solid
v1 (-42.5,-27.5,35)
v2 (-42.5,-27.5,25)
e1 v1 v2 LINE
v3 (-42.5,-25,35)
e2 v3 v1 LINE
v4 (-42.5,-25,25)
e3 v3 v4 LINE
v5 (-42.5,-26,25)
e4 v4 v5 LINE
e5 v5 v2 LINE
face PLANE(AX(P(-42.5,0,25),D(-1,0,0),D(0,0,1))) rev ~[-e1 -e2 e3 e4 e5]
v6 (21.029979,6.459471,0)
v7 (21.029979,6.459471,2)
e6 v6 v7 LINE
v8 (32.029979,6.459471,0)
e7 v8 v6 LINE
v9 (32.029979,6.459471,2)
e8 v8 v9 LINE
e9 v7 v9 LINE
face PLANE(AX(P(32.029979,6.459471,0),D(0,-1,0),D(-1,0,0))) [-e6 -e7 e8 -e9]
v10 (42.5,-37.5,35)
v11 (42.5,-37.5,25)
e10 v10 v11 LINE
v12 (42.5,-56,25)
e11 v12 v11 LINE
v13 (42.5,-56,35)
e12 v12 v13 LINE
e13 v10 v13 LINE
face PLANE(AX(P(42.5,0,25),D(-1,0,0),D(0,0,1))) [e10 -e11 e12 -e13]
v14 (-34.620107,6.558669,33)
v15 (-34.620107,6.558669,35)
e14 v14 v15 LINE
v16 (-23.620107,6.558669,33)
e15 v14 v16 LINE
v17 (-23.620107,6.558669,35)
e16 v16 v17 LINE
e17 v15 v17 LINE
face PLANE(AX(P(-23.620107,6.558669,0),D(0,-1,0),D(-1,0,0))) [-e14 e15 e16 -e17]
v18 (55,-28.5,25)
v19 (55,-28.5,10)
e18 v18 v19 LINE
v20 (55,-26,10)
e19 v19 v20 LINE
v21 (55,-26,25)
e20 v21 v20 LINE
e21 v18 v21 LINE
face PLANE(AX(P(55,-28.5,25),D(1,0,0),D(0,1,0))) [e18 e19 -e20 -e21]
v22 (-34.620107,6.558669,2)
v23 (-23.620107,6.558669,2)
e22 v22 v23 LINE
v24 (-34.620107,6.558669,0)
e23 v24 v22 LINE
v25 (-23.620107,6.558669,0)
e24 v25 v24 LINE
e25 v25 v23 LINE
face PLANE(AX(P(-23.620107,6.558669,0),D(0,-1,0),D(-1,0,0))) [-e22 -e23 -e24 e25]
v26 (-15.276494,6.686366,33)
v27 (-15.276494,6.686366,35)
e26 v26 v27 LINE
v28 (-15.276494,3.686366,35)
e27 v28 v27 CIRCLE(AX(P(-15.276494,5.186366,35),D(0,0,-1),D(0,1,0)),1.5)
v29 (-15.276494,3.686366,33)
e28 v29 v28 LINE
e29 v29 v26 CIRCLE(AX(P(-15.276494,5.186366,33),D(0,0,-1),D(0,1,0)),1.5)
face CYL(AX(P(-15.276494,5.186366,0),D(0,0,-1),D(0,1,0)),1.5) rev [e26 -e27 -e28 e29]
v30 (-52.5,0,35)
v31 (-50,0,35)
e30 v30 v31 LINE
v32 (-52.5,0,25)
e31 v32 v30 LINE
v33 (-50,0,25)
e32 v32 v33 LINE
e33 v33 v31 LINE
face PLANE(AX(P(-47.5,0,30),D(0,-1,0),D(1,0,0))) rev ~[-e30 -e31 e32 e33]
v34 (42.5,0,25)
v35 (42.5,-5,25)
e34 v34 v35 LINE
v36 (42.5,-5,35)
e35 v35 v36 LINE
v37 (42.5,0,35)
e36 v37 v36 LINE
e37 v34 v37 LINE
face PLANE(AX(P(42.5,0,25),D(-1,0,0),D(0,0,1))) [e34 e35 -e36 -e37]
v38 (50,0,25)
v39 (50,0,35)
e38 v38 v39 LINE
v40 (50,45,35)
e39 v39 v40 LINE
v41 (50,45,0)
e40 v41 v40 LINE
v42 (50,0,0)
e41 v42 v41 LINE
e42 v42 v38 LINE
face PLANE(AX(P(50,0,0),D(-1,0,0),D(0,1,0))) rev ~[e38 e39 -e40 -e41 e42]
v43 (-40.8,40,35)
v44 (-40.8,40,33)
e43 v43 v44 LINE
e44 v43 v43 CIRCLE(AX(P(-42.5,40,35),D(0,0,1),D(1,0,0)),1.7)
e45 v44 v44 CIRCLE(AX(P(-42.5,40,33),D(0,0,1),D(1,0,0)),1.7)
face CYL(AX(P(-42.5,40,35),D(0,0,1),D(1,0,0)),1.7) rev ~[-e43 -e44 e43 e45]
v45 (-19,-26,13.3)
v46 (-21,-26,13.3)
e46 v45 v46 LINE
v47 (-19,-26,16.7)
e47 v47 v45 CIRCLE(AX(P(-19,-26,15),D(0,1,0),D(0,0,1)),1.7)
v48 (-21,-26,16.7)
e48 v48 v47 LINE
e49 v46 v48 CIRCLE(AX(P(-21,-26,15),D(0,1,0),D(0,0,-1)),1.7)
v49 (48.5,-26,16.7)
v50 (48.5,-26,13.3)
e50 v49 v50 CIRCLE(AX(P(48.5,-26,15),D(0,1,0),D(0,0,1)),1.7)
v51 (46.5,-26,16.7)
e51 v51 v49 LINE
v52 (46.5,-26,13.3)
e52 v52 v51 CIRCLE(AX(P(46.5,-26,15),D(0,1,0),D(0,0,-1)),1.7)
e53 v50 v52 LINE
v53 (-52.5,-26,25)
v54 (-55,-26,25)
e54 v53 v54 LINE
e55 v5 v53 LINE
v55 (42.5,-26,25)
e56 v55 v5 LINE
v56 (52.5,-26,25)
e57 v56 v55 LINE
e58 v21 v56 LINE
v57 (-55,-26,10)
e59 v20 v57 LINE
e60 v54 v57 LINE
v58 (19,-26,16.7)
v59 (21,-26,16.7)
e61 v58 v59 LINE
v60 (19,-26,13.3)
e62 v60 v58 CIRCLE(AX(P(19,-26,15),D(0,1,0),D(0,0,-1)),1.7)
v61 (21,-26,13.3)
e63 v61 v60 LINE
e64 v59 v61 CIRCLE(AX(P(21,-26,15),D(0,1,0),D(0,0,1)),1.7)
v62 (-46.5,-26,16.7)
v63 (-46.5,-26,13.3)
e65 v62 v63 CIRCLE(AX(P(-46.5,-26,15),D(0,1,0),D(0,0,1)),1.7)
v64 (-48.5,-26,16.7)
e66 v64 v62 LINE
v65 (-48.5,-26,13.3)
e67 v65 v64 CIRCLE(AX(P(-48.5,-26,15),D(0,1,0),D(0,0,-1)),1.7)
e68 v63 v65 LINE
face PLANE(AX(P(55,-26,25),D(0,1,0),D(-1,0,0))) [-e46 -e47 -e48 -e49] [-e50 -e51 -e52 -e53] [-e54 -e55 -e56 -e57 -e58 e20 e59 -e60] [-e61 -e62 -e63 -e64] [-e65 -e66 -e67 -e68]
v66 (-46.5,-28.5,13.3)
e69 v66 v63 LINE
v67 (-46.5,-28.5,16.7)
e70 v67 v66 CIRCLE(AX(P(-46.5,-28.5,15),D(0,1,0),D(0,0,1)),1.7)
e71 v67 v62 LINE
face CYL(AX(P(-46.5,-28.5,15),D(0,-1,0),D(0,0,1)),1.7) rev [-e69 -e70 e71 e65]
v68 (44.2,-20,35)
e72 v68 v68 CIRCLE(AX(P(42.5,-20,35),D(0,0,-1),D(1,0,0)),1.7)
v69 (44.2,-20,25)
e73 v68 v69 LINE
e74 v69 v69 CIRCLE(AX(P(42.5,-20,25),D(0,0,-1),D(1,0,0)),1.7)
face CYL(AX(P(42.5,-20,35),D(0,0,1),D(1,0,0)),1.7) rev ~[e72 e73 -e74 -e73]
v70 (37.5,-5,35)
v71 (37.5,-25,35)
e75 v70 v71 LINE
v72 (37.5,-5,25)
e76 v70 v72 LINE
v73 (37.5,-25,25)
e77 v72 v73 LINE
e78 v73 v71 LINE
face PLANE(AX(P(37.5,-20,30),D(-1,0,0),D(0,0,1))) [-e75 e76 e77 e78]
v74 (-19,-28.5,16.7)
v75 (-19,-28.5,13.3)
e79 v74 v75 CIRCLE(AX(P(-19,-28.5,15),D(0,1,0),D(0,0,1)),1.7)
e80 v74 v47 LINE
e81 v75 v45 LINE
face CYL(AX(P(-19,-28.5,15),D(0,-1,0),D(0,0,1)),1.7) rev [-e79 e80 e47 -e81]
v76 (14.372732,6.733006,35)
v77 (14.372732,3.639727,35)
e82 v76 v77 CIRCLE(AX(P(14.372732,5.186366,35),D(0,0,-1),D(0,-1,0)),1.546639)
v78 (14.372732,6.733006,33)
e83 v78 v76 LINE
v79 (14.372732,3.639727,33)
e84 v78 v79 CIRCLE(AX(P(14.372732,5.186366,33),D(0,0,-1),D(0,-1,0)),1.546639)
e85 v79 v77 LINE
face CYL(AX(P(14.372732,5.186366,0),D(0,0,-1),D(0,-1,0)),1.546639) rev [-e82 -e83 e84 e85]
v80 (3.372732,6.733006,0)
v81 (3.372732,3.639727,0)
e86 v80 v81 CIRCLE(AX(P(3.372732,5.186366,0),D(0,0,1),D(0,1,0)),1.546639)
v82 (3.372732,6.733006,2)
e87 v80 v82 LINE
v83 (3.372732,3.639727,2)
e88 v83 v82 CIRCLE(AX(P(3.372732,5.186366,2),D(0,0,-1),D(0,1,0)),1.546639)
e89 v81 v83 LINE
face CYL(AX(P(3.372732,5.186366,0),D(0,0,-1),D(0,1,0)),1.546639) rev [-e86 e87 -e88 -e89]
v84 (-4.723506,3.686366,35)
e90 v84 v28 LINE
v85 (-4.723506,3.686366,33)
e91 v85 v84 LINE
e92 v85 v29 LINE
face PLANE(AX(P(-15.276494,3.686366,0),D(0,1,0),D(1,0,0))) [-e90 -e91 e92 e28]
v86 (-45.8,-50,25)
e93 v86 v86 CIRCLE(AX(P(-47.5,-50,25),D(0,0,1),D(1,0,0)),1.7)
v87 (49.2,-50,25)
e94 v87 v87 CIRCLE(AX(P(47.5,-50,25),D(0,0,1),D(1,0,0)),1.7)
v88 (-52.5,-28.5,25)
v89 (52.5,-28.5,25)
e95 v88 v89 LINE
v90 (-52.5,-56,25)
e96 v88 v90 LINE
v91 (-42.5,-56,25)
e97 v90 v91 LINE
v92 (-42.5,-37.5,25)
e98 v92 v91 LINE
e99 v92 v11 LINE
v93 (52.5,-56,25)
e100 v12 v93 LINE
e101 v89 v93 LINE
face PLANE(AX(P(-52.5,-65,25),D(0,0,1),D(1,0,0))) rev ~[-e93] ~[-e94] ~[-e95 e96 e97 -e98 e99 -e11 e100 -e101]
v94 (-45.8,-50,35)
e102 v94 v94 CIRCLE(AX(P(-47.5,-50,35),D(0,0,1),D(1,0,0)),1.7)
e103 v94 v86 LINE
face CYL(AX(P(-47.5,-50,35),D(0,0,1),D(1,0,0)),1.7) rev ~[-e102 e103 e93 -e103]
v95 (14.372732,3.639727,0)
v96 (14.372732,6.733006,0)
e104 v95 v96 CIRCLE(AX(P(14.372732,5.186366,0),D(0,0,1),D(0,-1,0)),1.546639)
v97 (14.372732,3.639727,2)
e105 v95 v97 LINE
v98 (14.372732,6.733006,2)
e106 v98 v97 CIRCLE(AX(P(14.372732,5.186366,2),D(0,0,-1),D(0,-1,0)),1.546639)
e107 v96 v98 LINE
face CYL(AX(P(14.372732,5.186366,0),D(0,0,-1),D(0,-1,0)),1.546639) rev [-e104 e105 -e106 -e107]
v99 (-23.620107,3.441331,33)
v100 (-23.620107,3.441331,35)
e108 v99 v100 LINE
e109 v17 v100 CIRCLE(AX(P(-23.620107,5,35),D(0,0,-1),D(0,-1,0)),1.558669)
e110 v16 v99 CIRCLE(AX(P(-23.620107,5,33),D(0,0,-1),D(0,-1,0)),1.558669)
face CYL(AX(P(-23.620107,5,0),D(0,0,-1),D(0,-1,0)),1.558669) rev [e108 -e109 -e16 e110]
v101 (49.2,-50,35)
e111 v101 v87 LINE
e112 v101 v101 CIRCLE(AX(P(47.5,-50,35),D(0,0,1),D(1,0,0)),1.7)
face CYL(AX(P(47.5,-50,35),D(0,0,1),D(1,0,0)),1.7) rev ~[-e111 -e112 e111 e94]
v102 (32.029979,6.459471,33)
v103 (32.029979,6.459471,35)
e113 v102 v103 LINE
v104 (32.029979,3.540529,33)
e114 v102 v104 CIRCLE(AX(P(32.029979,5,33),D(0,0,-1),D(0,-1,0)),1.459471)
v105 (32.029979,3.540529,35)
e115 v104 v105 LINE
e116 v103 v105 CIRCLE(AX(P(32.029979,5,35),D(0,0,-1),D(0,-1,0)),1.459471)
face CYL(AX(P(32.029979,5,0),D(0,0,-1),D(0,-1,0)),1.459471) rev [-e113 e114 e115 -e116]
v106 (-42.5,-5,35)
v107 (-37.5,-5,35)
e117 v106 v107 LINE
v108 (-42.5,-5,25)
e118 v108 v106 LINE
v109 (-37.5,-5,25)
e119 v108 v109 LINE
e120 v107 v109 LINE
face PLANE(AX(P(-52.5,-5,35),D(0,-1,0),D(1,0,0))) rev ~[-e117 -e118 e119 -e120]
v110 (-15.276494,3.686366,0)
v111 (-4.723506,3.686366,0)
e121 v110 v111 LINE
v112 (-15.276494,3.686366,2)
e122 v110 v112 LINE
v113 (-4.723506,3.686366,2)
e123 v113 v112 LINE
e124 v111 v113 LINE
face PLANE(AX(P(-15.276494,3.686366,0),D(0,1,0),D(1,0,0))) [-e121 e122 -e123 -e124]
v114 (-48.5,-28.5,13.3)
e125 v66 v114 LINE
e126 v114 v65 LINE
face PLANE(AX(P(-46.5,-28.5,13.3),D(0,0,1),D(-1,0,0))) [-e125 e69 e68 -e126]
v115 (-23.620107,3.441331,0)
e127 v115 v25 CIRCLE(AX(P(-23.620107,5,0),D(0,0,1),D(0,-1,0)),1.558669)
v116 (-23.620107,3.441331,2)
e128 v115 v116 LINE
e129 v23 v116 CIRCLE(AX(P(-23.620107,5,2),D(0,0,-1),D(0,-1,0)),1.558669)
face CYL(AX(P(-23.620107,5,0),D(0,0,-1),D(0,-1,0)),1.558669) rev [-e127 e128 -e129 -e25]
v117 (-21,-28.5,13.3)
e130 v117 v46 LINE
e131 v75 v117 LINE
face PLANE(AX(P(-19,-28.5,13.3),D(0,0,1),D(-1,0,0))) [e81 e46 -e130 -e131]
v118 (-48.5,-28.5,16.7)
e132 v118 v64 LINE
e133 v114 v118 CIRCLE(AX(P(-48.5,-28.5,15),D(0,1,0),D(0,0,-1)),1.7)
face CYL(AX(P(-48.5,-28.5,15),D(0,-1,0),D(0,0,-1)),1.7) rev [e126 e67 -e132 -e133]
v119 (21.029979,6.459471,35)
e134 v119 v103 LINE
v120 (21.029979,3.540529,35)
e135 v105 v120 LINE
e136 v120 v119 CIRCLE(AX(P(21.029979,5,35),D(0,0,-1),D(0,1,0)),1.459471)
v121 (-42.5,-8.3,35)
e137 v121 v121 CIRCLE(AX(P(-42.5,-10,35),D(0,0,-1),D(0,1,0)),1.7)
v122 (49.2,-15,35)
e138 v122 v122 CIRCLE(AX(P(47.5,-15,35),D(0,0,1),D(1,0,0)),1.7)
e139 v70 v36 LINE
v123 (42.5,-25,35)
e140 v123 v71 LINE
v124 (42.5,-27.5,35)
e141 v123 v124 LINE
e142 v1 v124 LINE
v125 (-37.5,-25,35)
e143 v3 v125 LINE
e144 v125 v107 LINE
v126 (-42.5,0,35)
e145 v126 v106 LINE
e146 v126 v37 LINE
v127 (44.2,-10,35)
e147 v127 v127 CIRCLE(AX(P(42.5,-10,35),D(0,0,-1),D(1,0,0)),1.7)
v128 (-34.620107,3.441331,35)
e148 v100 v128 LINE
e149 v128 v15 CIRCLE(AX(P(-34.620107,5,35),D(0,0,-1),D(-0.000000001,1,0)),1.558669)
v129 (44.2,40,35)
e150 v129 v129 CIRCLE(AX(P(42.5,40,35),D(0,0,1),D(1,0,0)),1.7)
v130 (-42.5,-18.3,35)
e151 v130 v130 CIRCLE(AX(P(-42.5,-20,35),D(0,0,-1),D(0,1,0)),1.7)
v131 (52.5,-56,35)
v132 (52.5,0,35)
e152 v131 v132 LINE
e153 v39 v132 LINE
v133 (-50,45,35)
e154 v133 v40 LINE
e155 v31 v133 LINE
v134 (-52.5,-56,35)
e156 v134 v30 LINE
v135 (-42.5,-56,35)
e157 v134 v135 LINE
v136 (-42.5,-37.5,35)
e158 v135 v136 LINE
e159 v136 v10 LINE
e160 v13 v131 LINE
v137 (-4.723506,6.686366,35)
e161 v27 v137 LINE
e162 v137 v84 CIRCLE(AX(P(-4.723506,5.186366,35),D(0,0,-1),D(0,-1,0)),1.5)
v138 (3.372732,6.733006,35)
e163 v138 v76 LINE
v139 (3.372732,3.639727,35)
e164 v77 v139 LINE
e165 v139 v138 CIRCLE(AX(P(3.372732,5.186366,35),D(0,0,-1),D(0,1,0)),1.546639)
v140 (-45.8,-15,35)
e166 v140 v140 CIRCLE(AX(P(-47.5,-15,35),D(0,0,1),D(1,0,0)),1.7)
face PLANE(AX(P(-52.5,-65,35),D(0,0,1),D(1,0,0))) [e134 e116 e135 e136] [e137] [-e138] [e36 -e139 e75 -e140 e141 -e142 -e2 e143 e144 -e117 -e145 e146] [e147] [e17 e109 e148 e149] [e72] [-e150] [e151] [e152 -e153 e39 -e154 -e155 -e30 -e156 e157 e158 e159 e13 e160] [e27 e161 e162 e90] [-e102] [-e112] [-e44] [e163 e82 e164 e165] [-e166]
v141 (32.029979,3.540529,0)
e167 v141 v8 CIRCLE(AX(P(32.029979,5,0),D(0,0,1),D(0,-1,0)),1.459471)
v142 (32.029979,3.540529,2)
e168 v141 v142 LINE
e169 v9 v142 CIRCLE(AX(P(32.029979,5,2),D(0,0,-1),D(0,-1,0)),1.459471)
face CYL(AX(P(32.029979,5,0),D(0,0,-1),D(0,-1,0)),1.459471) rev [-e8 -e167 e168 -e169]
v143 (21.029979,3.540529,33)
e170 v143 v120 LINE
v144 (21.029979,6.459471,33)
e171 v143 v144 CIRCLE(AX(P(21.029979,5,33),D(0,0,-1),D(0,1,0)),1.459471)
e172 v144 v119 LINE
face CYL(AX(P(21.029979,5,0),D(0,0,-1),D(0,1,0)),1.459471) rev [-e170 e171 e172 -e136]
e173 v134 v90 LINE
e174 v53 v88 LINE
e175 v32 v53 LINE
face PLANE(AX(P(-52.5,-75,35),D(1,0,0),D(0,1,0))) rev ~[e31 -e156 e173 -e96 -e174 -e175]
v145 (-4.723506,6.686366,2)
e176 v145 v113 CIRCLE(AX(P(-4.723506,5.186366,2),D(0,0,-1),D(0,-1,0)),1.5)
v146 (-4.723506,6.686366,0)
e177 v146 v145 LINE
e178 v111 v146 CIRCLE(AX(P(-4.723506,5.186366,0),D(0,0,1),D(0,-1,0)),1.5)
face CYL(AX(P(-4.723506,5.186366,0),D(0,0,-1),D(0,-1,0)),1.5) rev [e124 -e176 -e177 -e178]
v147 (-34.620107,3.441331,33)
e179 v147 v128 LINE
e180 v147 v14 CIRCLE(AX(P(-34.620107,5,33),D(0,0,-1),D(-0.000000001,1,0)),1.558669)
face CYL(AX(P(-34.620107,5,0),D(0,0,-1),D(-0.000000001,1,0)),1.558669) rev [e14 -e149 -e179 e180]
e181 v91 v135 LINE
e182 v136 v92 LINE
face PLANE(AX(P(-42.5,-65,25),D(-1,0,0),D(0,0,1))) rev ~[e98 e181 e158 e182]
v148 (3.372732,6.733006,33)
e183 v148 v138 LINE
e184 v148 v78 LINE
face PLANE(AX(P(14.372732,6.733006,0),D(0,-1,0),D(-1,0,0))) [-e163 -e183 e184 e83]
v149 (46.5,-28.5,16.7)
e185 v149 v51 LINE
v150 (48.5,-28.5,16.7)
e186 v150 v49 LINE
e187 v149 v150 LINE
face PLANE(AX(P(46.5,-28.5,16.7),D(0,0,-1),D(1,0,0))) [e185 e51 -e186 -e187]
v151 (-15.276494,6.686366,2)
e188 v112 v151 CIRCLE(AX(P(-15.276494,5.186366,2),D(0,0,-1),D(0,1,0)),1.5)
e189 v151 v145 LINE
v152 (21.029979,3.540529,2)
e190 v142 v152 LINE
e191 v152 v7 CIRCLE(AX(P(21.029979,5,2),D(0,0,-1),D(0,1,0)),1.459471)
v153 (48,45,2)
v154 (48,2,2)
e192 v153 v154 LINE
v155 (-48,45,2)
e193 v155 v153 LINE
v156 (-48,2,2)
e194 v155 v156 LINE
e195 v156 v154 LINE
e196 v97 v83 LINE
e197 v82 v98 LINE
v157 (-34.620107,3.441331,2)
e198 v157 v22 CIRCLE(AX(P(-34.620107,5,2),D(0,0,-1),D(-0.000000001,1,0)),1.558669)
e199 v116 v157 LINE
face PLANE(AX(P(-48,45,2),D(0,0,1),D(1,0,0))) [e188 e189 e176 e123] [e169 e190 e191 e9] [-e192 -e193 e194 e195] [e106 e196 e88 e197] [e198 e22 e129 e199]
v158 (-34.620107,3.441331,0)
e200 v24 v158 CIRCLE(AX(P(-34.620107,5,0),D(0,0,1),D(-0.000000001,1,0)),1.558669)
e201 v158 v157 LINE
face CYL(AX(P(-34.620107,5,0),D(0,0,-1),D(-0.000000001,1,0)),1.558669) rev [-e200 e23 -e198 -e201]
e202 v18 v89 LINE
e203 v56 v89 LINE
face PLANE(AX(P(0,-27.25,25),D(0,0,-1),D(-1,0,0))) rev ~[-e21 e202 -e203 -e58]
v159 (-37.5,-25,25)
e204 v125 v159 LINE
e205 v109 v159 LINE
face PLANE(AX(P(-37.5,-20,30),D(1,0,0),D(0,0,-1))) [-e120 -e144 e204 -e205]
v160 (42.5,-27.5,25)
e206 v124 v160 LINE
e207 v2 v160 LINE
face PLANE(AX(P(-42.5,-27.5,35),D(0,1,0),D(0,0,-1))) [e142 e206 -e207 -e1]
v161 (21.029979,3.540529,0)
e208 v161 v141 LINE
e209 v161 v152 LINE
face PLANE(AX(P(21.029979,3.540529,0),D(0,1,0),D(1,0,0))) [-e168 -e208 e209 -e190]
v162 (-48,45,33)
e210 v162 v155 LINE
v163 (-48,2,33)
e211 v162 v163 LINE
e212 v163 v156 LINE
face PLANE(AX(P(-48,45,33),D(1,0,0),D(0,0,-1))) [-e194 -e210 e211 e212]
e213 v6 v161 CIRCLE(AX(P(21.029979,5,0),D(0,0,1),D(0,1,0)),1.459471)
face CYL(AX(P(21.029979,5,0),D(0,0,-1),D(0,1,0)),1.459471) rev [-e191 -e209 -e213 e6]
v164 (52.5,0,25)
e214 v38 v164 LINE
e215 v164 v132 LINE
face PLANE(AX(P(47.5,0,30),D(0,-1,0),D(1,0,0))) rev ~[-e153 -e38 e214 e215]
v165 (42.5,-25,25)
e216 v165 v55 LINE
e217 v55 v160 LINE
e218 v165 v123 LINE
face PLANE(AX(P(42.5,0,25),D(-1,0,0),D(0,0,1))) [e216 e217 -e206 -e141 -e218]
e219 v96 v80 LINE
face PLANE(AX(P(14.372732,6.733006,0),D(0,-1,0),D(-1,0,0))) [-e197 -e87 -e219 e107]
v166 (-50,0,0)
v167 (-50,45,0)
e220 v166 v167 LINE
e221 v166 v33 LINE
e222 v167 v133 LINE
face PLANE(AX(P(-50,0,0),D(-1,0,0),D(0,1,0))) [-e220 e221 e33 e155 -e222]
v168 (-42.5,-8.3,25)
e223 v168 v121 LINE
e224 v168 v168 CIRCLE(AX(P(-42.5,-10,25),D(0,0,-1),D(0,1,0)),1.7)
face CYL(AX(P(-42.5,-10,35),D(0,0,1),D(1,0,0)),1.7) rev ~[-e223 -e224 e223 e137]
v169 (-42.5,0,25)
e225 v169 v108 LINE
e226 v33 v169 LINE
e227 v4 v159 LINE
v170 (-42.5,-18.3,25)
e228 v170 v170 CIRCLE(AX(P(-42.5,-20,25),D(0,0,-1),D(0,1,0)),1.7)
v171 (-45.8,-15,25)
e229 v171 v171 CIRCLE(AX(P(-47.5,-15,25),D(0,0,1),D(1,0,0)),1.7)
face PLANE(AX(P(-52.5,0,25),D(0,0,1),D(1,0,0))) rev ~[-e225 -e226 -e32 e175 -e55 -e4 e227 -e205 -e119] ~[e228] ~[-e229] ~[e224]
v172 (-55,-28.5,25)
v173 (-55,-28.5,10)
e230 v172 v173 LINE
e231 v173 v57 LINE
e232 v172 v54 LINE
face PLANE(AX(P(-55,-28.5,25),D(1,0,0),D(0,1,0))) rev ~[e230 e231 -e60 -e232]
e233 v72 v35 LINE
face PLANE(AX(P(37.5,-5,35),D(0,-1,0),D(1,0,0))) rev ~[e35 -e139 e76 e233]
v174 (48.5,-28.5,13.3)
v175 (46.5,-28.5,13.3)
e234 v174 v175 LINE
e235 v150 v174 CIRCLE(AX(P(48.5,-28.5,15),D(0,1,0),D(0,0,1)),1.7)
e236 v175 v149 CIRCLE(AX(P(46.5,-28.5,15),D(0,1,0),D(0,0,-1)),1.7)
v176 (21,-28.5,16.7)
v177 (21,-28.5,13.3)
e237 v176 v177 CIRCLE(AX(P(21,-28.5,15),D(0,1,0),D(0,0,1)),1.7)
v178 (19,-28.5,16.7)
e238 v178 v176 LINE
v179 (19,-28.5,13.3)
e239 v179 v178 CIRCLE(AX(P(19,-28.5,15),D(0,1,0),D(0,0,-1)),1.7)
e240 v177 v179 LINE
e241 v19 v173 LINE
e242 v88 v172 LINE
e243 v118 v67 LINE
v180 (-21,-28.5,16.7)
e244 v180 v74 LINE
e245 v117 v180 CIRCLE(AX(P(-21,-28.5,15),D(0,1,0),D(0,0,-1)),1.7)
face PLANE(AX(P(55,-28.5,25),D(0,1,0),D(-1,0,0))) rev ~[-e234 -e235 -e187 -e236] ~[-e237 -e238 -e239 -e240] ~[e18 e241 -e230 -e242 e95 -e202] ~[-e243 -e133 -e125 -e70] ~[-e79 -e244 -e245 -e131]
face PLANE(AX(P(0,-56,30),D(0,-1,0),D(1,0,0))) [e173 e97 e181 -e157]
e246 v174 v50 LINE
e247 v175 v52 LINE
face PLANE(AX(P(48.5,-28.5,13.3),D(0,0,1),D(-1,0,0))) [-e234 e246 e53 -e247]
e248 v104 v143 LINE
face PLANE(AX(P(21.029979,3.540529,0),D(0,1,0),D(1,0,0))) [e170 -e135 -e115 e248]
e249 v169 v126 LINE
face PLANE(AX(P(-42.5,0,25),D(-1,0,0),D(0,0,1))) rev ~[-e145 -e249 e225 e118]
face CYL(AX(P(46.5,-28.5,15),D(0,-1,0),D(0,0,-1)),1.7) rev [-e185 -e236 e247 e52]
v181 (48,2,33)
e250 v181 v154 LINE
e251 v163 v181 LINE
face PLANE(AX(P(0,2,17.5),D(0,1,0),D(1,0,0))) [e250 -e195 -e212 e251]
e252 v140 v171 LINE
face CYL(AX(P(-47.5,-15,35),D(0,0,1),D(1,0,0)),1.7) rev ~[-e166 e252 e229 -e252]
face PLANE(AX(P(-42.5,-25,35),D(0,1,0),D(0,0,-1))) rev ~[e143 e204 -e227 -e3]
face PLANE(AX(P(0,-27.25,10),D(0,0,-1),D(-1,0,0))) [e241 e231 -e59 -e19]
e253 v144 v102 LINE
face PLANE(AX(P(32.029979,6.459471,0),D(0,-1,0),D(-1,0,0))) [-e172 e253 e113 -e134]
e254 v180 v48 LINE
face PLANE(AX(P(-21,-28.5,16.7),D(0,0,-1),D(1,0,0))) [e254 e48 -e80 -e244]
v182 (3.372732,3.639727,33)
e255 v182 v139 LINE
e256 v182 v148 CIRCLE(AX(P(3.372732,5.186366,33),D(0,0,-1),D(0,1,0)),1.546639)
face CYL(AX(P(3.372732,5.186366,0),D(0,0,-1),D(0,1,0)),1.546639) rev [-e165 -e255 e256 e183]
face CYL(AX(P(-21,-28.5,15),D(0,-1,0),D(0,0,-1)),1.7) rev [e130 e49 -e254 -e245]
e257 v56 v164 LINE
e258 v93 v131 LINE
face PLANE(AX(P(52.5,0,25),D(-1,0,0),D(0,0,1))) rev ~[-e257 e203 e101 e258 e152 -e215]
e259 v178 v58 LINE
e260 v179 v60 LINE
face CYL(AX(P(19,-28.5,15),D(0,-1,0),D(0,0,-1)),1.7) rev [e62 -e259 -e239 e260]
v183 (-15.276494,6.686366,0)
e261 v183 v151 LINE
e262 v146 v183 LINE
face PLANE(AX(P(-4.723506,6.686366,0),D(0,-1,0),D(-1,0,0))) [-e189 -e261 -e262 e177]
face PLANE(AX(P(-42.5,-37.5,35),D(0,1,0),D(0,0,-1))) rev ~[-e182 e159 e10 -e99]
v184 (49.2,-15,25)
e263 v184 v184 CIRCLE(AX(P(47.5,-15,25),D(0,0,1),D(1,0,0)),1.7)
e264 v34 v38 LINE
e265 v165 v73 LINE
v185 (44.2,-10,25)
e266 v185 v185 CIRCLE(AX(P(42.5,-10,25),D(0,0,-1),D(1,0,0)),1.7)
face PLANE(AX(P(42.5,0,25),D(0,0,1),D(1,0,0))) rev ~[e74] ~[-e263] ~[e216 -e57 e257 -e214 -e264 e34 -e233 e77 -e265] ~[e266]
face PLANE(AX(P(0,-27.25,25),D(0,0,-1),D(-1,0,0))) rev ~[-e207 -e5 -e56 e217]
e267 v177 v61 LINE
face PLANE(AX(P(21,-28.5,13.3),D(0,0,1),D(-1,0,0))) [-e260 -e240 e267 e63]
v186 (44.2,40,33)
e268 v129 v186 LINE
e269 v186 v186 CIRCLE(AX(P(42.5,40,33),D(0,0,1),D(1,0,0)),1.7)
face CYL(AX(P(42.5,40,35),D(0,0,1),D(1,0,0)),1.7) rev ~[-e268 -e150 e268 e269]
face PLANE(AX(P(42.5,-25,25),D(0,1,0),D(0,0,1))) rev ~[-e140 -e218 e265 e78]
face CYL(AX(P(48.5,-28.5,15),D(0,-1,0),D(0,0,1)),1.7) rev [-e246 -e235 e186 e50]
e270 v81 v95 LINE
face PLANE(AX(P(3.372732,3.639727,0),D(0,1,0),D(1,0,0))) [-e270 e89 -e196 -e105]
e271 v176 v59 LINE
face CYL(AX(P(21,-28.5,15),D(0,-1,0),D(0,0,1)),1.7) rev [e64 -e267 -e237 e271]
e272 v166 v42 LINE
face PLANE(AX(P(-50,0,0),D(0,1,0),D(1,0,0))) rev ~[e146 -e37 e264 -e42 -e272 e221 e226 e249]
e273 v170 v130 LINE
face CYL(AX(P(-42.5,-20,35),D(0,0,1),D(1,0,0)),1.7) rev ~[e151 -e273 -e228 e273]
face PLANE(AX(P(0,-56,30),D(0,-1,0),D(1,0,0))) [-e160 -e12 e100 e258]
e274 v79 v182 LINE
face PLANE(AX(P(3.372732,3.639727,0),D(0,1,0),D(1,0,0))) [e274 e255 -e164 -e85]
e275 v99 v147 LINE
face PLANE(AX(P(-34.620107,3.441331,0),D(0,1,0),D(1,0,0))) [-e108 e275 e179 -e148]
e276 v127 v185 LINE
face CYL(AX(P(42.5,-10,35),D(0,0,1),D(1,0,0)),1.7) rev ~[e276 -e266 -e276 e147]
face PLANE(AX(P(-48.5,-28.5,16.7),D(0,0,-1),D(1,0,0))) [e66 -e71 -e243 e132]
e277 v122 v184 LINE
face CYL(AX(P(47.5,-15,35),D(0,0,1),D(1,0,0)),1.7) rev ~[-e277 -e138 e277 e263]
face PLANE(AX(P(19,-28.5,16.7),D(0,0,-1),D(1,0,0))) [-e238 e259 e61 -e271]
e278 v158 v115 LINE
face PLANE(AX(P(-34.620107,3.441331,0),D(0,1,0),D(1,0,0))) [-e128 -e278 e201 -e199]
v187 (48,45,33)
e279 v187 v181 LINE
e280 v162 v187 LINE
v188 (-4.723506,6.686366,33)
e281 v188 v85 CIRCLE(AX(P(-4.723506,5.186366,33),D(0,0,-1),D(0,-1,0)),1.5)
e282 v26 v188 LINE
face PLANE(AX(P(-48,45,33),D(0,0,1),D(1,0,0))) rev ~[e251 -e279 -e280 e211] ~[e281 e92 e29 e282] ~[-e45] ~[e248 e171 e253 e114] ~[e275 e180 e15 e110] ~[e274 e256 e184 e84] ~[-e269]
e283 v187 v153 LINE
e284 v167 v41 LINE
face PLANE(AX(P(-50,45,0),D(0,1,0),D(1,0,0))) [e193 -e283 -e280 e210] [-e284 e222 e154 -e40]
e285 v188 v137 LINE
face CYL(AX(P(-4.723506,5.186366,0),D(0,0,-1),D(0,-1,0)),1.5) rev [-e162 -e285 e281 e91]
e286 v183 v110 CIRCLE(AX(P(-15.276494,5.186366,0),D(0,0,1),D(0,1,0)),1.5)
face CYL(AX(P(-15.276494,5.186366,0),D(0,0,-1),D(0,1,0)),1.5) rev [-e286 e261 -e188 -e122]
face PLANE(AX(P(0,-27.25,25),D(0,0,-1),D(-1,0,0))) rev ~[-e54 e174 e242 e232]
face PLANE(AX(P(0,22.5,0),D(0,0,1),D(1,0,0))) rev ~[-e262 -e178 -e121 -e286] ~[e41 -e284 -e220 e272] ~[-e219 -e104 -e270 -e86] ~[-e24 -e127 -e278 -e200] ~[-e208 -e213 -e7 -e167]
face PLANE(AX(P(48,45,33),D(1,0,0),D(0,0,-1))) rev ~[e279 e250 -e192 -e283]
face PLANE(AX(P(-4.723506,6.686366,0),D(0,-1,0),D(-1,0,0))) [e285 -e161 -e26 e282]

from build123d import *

# Parameters (mm, degrees)
V3_BOX_FOOTPRINT_100_X_45_MM_W                 = 100
V3_BOX_FOOTPRINT_100_X_45_MM_H                 = 45
V3_BOX_HEIGHT_35_MM_DEPTH                      = 35
V3_REAR_OPENING_96_X_31_MM_W                   = 96
V3_REAR_OPENING_96_X_31_MM_H                   = 31
V3_CAVITY_ALL_WALLS_2_MM_DEPTH                 = 43
V3_SQUARE_BEAMS_10_X_10_PITCH_95_MM_W          = 10
V3_SQUARE_BEAMS_10_X_10_PITCH_95_MM_H          = 10
V3_FORWARD_BEAM_LENGTH_65_MM_DEPTH             = 65
V3_LEFT_PCB_EAR_PROFILE_W                      = 10
V3_LEFT_PCB_EAR_PROFILE_H                      = 10
V3_LEFT_INWARD_EAR_5_MM_DEPTH                  = 5
V3_RIGHT_PCB_EAR_PROFILE_W                     = 10
V3_RIGHT_PCB_EAR_PROFILE_H                     = 10
V3_RIGHT_INWARD_EAR_5_MM_DEPTH                 = 5
V3_PCB_ROOF_PAIR_PITCH_85_MM_R                 = 1.7
V3_M3_ROOF_HOLES_DIAMETER_3_4_MM_DEPTH         = 2
V3_PCB_FORWARD_PAIR_ROW_SPACING_60_MM_R        = 1.7
V3_M3_PCB_EAR_HOLES_DEPTH                      = 10
V3_CHASSIS_TOP_HOLES_WIDTH_95_DEPTH_40_M_R     = 1.7
V3_M3_BEAM_TOP_BOTTOM_HOLES_DEPTH              = 10
V3_HANGING_PLATE_OFFSET_26_THICKNESS_2_5_W     = 110
V3_HANGING_PLATE_OFFSET_26_THICKNESS_2_5_H     = 2.5
V3_MOUNTING_PLATE_DOWNWARD_15_MM_WIDTH_1_DEPTH = 15
FOUR_HORIZONTAL_SLOTS_3_4_X_5_4_MM_DEPTH       = 2.5
CUT_EXTRUDE_1_DEPTH                            = 93.059763198
H_CROSSMEMBER_10_X_10_MM_AT_BEAM_MIDPOIN_W     = 10
H_CROSSMEMBER_10_X_10_MM_AT_BEAM_MIDPOIN_H     = 10
H_CROSSMEMBER_85_MM_DEPTH                      = 85
LONGITUDINAL_START                             = -2
BEAM_CAVITIES_6_MM_WIDE_PRESERVING_SCREW_W     = 6
BEAM_CAVITIES_6_MM_WIDE_PRESERVING_SCREW_H     = 6
BEAM_CAVITIES_6_MM_WIDE_PRESERVING_SCREW_H_2   = 27
BEAM_CAVITIES_6_MM_WIDE_PRESERVING_SCREW_H_3   = 9
LONGITUDINAL_BEAM_WALLS_2_MM_INNER_HEI_DEPTH   = 6
H_START                                        = -2
H_CROSSMEMBER_CAVITY_CONNECTS_BOTH_BEAM_W      = 89
H_CROSSMEMBER_CAVITY_CONNECTS_BOTH_BEAM_H      = 6
H_CROSSMEMBER_WALLS_2_MM_DEPTH                 = 6
CUT_EXTRUDE_4_DEPTH                            = 93.059763198
V6_EXTEND_10_X_10_HOLLOW_BEAMS_WITH_2_MM_W     = 10
V6_EXTEND_10_X_10_HOLLOW_BEAMS_WITH_2_MM_H     = 10
V6_EXTEND_10_X_10_HOLLOW_BEAMS_WITH_2_MM_W_2   = 6
V6_EXTEND_10_X_10_HOLLOW_BEAMS_WITH_2_MM_H_2   = 6
V6_HOLLOW_BEAM_EXTENSIONS_15_MM_DEPTH          = 15
V6_FOUR_FULL_DEPTH_PCB_PADS_CENTERS_X42_W      = 15
V6_FOUR_FULL_DEPTH_PCB_PADS_CENTERS_X42_H      = 10
V6_SOLID_SCREW_PADS_WITH_5_MM_INWARD_EAR_DEPTH = 10
V6_PCB_HOLES_85_X_60_MM_AND_RETAINED_CHA_R     = 1.7
V6_FOUR_PCB_M3_HOLES_THROUGH_REINFORCED_DEPTH  = 10
V7_RETAIN_RAIL_ENVELOPES_10_X_10_LENGTH_W      = 10
V7_RETAIN_RAIL_ENVELOPES_10_X_10_LENGTH_H      = 80
V7_SOLID_LONGITUDINAL_BEAMS_DEPTH              = 10
V7_RETAIN_H_CROSSMEMBER_ENVELOPE_W             = 85
V7_RETAIN_H_CROSSMEMBER_ENVELOPE_H             = 10
V7_SOLID_H_CROSSMEMBER_DEPTH                   = 10
V7_PRESERVE_ALL_TEN_EXISTING_BEAM_M3_BOR_R     = 1.7
V7_RESTORE_CHASSIS_AND_PCB_CLEARANCE_BOR_DEPTH = 10
V7_REFILL_OLD_MOUNTING_SLOTS_WITHIN_UNCH_W     = 110
V7_REFILL_OLD_MOUNTING_SLOTS_WITHIN_UNCH_H     = 15
V7_CLOSE_PREVIOUS_SLOT_POSITIONS_DEPTH         = 2.5
V7_FOUR_HORIZONTAL_SLOTS_3_4_X_5_4_MM_AT_DEPTH = 2.5
V8_REFILL_OLD_CHASSIS_BORE_ROW_Y_55_BEFO_W     = 4
V8_REFILL_OLD_CHASSIS_BORE_ROW_Y_55_BEFO_H     = 4
V8_CLOSE_CHASSIS_HOLES_THAT_WOULD_BREAK_DEPTH  = 10
V8_SHORTEN_BOTH_FREE_ENDS_BY_24_MM_W           = 110
V8_SHORTEN_BOTH_FREE_ENDS_BY_24_MM_H           = 10
V8_SOLID_BEAMS_LENGTH_56_MM_PRESERVE_PLA_DEPTH = 24
V8_CHASSIS_PAIR_Y_50_WITH_6_MM_END_DISTA_R     = 1.7
V8_CHASSIS_M3_HOLES_MOVED_5_MM_TOWARD_BA_DEPTH = 10


with BuildPart() as part:
    # V3 box footprint 100 x 45 mm → V3 box height 35 mm (new body)
    with BuildSketch(Plane.XY):
        with Locations((0, 22.5)):
            Rectangle(V3_BOX_FOOTPRINT_100_X_45_MM_W, V3_BOX_FOOTPRINT_100_X_45_MM_H)
    extrude(amount=V3_BOX_HEIGHT_35_MM_DEPTH)

    # V3 rear opening 96 x 31 mm → V3 cavity all walls 2 mm (cut)
    with BuildSketch(Plane(origin=(0, 45, 0), x_dir=(1, 0, 0), z_dir=(0, 1, 0))):
        with Locations((0, -17.5)):
            Rectangle(V3_REAR_OPENING_96_X_31_MM_W, V3_REAR_OPENING_96_X_31_MM_H)
    extrude(amount=-V3_CAVITY_ALL_WALLS_2_MM_DEPTH, mode=Mode.SUBTRACT)

    # V3 square beams 10 x 10 pitch 95 mm → V3 forward beam length 65 mm (add)
    with BuildSketch(Plane.XZ):
        with Locations((-47.5, 30)):
            Rectangle(V3_SQUARE_BEAMS_10_X_10_PITCH_95_MM_W, V3_SQUARE_BEAMS_10_X_10_PITCH_95_MM_H)
        with Locations((47.5, 30)):
            Rectangle(V3_SQUARE_BEAMS_10_X_10_PITCH_95_MM_W, V3_SQUARE_BEAMS_10_X_10_PITCH_95_MM_H)
    extrude(amount=V3_FORWARD_BEAM_LENGTH_65_MM_DEPTH)

    # V3 left PCB ear profile → V3 left inward ear 5 mm (add)
    with BuildSketch(Plane(origin=(-42.5, 0, 0), x_dir=(0, 0, -1), z_dir=(1, 0, 0))):
        with Locations((-30, -20)):
            Rectangle(V3_LEFT_PCB_EAR_PROFILE_W, V3_LEFT_PCB_EAR_PROFILE_H)
    extrude(amount=V3_LEFT_INWARD_EAR_5_MM_DEPTH)

    # V3 right PCB ear profile → V3 right inward ear 5 mm (add)
    with BuildSketch(Plane.ZY.offset(-42.5)):
        with Locations((30, -20)):
            Rectangle(V3_RIGHT_PCB_EAR_PROFILE_W, V3_RIGHT_PCB_EAR_PROFILE_H)
    extrude(amount=V3_RIGHT_INWARD_EAR_5_MM_DEPTH)

    # V3 PCB roof pair pitch 85 mm → V3 M3 roof holes diameter 3.4 mm (cut)
    with BuildSketch(Plane.XY.offset(35)):
        with Locations((-42.5, 40)):
            Circle(V3_PCB_ROOF_PAIR_PITCH_85_MM_R)
        with Locations((42.5, 40)):
            Circle(V3_PCB_ROOF_PAIR_PITCH_85_MM_R)
    extrude(amount=-V3_M3_ROOF_HOLES_DIAMETER_3_4_MM_DEPTH, mode=Mode.SUBTRACT)

    # V3 PCB forward pair row spacing 60 mm → V3 M3 PCB ear holes (cut)
    with BuildSketch(Plane.XY.offset(35)):
        with Locations((-42.5, -20)):
            Circle(V3_PCB_FORWARD_PAIR_ROW_SPACING_60_MM_R)
        with Locations((42.5, -20)):
            Circle(V3_PCB_FORWARD_PAIR_ROW_SPACING_60_MM_R)
    extrude(amount=-V3_M3_PCB_EAR_HOLES_DEPTH, mode=Mode.SUBTRACT)

    # V3 chassis top holes width 95 depth 40 mm → V3 M3 beam top bottom holes (cut)
    with BuildSketch(Plane.XY.offset(35)):
        with Locations((-47.5, -55)):
            Circle(V3_CHASSIS_TOP_HOLES_WIDTH_95_DEPTH_40_M_R)
        with Locations((-47.5, -15)):
            Circle(V3_CHASSIS_TOP_HOLES_WIDTH_95_DEPTH_40_M_R)
        with Locations((47.5, -55)):
            Circle(V3_CHASSIS_TOP_HOLES_WIDTH_95_DEPTH_40_M_R)
        with Locations((47.5, -15)):
            Circle(V3_CHASSIS_TOP_HOLES_WIDTH_95_DEPTH_40_M_R)
    extrude(amount=-V3_M3_BEAM_TOP_BOTTOM_HOLES_DEPTH, mode=Mode.SUBTRACT)

    # V3 hanging plate offset 26 thickness 2.5 mm → V3 mounting plate downward 15 mm width 110 (add)
    with BuildSketch(Plane(origin=(0, 0, 25), x_dir=(-1, 0, 0), z_dir=(0, 0, -1))):
        with Locations((0, -27.25)):
            Rectangle(V3_HANGING_PLATE_OFFSET_26_THICKNESS_2_5_W, V3_HANGING_PLATE_OFFSET_26_THICKNESS_2_5_H)
    extrude(amount=V3_MOUNTING_PLATE_DOWNWARD_15_MM_WIDTH_1_DEPTH)

    # V3 slots 6 mm below beam underside centers 20 and 47.5 → Four horizontal slots 3.4 x 5.4 mm (cut)
    with BuildSketch(Plane.XZ.offset(28.5)):
        with BuildLine():
            Line((-48.5, 20.7), (-46.5, 20.7))
            ThreePointArc((-46.5, 20.7), (-44.8, 19), (-46.5, 17.3))
            Line((-46.5, 17.3), (-48.5, 17.3))
            ThreePointArc((-48.5, 17.3), (-50.2, 19), (-48.5, 20.7))
        make_face()
        with BuildLine():
            Line((-21, 20.7), (-19, 20.7))
            ThreePointArc((-19, 20.7), (-17.3, 19), (-19, 17.3))
            Line((-19, 17.3), (-21, 17.3))
            ThreePointArc((-21, 17.3), (-22.7, 19), (-21, 20.7))
        make_face()
        with BuildLine():
            Line((19, 20.7), (21, 20.7))
            ThreePointArc((21, 20.7), (22.7, 19), (21, 17.3))
            Line((21, 17.3), (19, 17.3))
            ThreePointArc((19, 17.3), (17.3, 19), (19, 20.7))
        make_face()
        with BuildLine():
            Line((46.5, 20.7), (48.5, 20.7))
            ThreePointArc((48.5, 20.7), (50.2, 19), (48.5, 17.3))
            Line((48.5, 17.3), (46.5, 17.3))
            ThreePointArc((46.5, 17.3), (44.8, 19), (46.5, 20.7))
        make_face()
    extrude(amount=-FOUR_HORIZONTAL_SLOTS_3_4_X_5_4_MM_DEPTH, mode=Mode.SUBTRACT)

    # 草图2 → 切除-拉伸1 (cut, through all)
    with BuildSketch(Plane(origin=(0, 0, 0), x_dir=(-1, 0, 0), z_dir=(0, 0, -1))):
        with BuildLine():
            Line((-32.029979042, 6.459471041), (-21.029979042, 6.459471041))
            ThreePointArc((-21.029979042, 6.459471041), (-19.570508001, 5), (-21.029979042, 3.540528959))
            Line((-21.029979042, 3.540528959), (-32.029979042, 3.540528959))
            ThreePointArc((-32.029979042, 3.540528959), (-33.489450083, 5), (-32.029979042, 6.459471041))
        make_face()
        with BuildLine():
            Line((23.620107008, 6.558669056), (34.620107008, 6.558669056))
            ThreePointArc((34.620107008, 6.558669056), (36.178776063, 5), (34.620107008, 3.441330944))
            Line((34.620107008, 3.441330944), (23.620107008, 3.441330944))
            ThreePointArc((23.620107008, 3.441330944), (22.061437952, 5), (23.620107008, 6.558669056))
        make_face()
    extrude(amount=-CUT_EXTRUDE_1_DEPTH, mode=Mode.SUBTRACT)

    # H crossmember 10 x 10 mm at beam midpoint → H crossmember 85 mm (add)
    with BuildSketch(Plane(origin=(-42.5, 0, 0), x_dir=(0, 0, -1), z_dir=(1, 0, 0))):
        with Locations((-30, -32.5)):
            Rectangle(H_CROSSMEMBER_10_X_10_MM_AT_BEAM_MIDPOIN_W, H_CROSSMEMBER_10_X_10_MM_AT_BEAM_MIDPOIN_H)
    extrude(amount=H_CROSSMEMBER_85_MM_DEPTH)

    # Beam cavities 6 mm wide preserving screw collars → Longitudinal beam walls 2 mm - inner height 6 mm (cut)
    with BuildSketch(Plane.XY.offset(35).offset(LONGITUDINAL_START)):
        with Locations((-47.5, -62)):
            Rectangle(BEAM_CAVITIES_6_MM_WIDE_PRESERVING_SCREW_W, BEAM_CAVITIES_6_MM_WIDE_PRESERVING_SCREW_H)
        with Locations((-47.5, -37.5)):
            Rectangle(BEAM_CAVITIES_6_MM_WIDE_PRESERVING_SCREW_W, BEAM_CAVITIES_6_MM_WIDE_PRESERVING_SCREW_H_2)
        with Locations((-47.5, -6.5)):
            Rectangle(BEAM_CAVITIES_6_MM_WIDE_PRESERVING_SCREW_W, BEAM_CAVITIES_6_MM_WIDE_PRESERVING_SCREW_H_3)
        with Locations((47.5, -62)):
            Rectangle(BEAM_CAVITIES_6_MM_WIDE_PRESERVING_SCREW_W, BEAM_CAVITIES_6_MM_WIDE_PRESERVING_SCREW_H)
        with Locations((47.5, -37.5)):
            Rectangle(BEAM_CAVITIES_6_MM_WIDE_PRESERVING_SCREW_W, BEAM_CAVITIES_6_MM_WIDE_PRESERVING_SCREW_H_2)
        with Locations((47.5, -6.5)):
            Rectangle(BEAM_CAVITIES_6_MM_WIDE_PRESERVING_SCREW_W, BEAM_CAVITIES_6_MM_WIDE_PRESERVING_SCREW_H_3)
    extrude(amount=-LONGITUDINAL_BEAM_WALLS_2_MM_INNER_HEI_DEPTH, mode=Mode.SUBTRACT)

    # H crossmember cavity connects both beam cavities → H crossmember walls 2 mm (cut)
    with BuildSketch(Plane.XY.offset(35).offset(H_START)):
        with Locations((0, -32.5)):
            Rectangle(H_CROSSMEMBER_CAVITY_CONNECTS_BOTH_BEAM_W, H_CROSSMEMBER_CAVITY_CONNECTS_BOTH_BEAM_H)
    extrude(amount=-H_CROSSMEMBER_WALLS_2_MM_DEPTH, mode=Mode.SUBTRACT)

    # 草图8 → 切除-拉伸4 (cut, through all)
    with BuildSketch(Plane(origin=(0, 0, 0), x_dir=(-1, 0, 0), z_dir=(0, 0, -1))):
        with BuildLine():
            Line((-14.372732488, 6.733005515), (-3.372732488, 6.733005515))
            ThreePointArc((-3.372732488, 6.733005515), (-1.826093217, 5.186366244), (-3.372732488, 3.639726973))
            Line((-3.372732488, 3.639726973), (-14.372732488, 3.639726973))
            ThreePointArc((-14.372732488, 3.639726973), (-15.919371759, 5.186366244), (-14.372732488, 6.733005515))
        make_face()
        with BuildLine():
            Line((4.72350579, 6.686366244), (15.27649421, 6.686366244))
            ThreePointArc((15.27649421, 6.686366244), (16.77649421, 5.186366244), (15.27649421, 3.686366244))
            Line((15.27649421, 3.686366244), (4.72350579, 3.686366244))
            ThreePointArc((4.72350579, 3.686366244), (3.22350579, 5.186366244), (4.72350579, 6.686366244))
        make_face()
    extrude(amount=-CUT_EXTRUDE_4_DEPTH, mode=Mode.SUBTRACT)

    # V6 extend 10 x 10 hollow beams with 2 mm walls → V6 hollow beam extensions 15 mm (add)
    # profile 1 of 2: a face of its own
    with BuildSketch(Plane.XZ.offset(65)):
        with Locations((-47.5, 30)):
            Rectangle(V6_EXTEND_10_X_10_HOLLOW_BEAMS_WITH_2_MM_W, V6_EXTEND_10_X_10_HOLLOW_BEAMS_WITH_2_MM_H)
        with Locations((-47.5, 30)):
            Rectangle(V6_EXTEND_10_X_10_HOLLOW_BEAMS_WITH_2_MM_W_2, V6_EXTEND_10_X_10_HOLLOW_BEAMS_WITH_2_MM_H_2, mode=Mode.SUBTRACT)
    # profile 2 of 2: a face of its own
    with BuildSketch(Plane.XZ.offset(65)):
        with Locations((47.5, 30)):
            Rectangle(V6_EXTEND_10_X_10_HOLLOW_BEAMS_WITH_2_MM_W, V6_EXTEND_10_X_10_HOLLOW_BEAMS_WITH_2_MM_H)
        with Locations((47.5, 30)):
            Rectangle(V6_EXTEND_10_X_10_HOLLOW_BEAMS_WITH_2_MM_W_2, V6_EXTEND_10_X_10_HOLLOW_BEAMS_WITH_2_MM_H_2, mode=Mode.SUBTRACT)
    extrude(amount=V6_HOLLOW_BEAM_EXTENSIONS_15_MM_DEPTH)

    # V6 four full-depth PCB pads centers x42.5 y-70 and -10 → V6 solid screw pads with 5 mm inward ears (add)
    with BuildSketch(Plane.XY.offset(35)):
        with Locations((-45, -70)):
            Rectangle(V6_FOUR_FULL_DEPTH_PCB_PADS_CENTERS_X42_W, V6_FOUR_FULL_DEPTH_PCB_PADS_CENTERS_X42_H)
        with Locations((45, -70)):
            Rectangle(V6_FOUR_FULL_DEPTH_PCB_PADS_CENTERS_X42_W, V6_FOUR_FULL_DEPTH_PCB_PADS_CENTERS_X42_H)
        with Locations((-45, -10)):
            Rectangle(V6_FOUR_FULL_DEPTH_PCB_PADS_CENTERS_X42_W, V6_FOUR_FULL_DEPTH_PCB_PADS_CENTERS_X42_H)
        with Locations((45, -10)):
            Rectangle(V6_FOUR_FULL_DEPTH_PCB_PADS_CENTERS_X42_W, V6_FOUR_FULL_DEPTH_PCB_PADS_CENTERS_X42_H)
    extrude(amount=-V6_SOLID_SCREW_PADS_WITH_5_MM_INWARD_EAR_DEPTH)

    # V6 PCB holes 85 x 60 mm and retained chassis holes → V6 four PCB M3 holes through reinforced beam pads (cut)
    with BuildSketch(Plane.XY.offset(35)):
        with Locations((-42.5, -70)):
            Circle(V6_PCB_HOLES_85_X_60_MM_AND_RETAINED_CHA_R)
        with Locations((-42.5, -10)):
            Circle(V6_PCB_HOLES_85_X_60_MM_AND_RETAINED_CHA_R)
        with Locations((42.5, -70)):
            Circle(V6_PCB_HOLES_85_X_60_MM_AND_RETAINED_CHA_R)
        with Locations((42.5, -10)):
            Circle(V6_PCB_HOLES_85_X_60_MM_AND_RETAINED_CHA_R)
        with Locations((-47.5, -15)):
            Circle(V6_PCB_HOLES_85_X_60_MM_AND_RETAINED_CHA_R)
        with Locations((47.5, -15)):
            Circle(V6_PCB_HOLES_85_X_60_MM_AND_RETAINED_CHA_R)
    extrude(amount=-V6_FOUR_PCB_M3_HOLES_THROUGH_REINFORCED_DEPTH, mode=Mode.SUBTRACT)

    # V7 retain rail envelopes 10 x 10 length 80 mm → V7 solid longitudinal beams (add)
    with BuildSketch(Plane.XY.offset(35)):
        with Locations((-47.5, -40)):
            Rectangle(V7_RETAIN_RAIL_ENVELOPES_10_X_10_LENGTH_W, V7_RETAIN_RAIL_ENVELOPES_10_X_10_LENGTH_H)
        with Locations((47.5, -40)):
            Rectangle(V7_RETAIN_RAIL_ENVELOPES_10_X_10_LENGTH_W, V7_RETAIN_RAIL_ENVELOPES_10_X_10_LENGTH_H)
    extrude(amount=-V7_SOLID_LONGITUDINAL_BEAMS_DEPTH)

    # V7 retain H crossmember envelope → V7 solid H crossmember (add)
    with BuildSketch(Plane.XY.offset(35)):
        with Locations((0, -32.5)):
            Rectangle(V7_RETAIN_H_CROSSMEMBER_ENVELOPE_W, V7_RETAIN_H_CROSSMEMBER_ENVELOPE_H)
    extrude(amount=-V7_SOLID_H_CROSSMEMBER_DEPTH)

    # V7 preserve all ten existing beam M3 bores → V7 restore chassis and PCB clearance bores (cut)
    with BuildSketch(Plane.XY.offset(35)):
        with Locations((-47.5, -55)):
            Circle(V7_PRESERVE_ALL_TEN_EXISTING_BEAM_M3_BOR_R)
        with Locations((-47.5, -15)):
            Circle(V7_PRESERVE_ALL_TEN_EXISTING_BEAM_M3_BOR_R)
        with Locations((47.5, -55)):
            Circle(V7_PRESERVE_ALL_TEN_EXISTING_BEAM_M3_BOR_R)
        with Locations((47.5, -15)):
            Circle(V7_PRESERVE_ALL_TEN_EXISTING_BEAM_M3_BOR_R)
        with Locations((-42.5, -70)):
            Circle(V7_PRESERVE_ALL_TEN_EXISTING_BEAM_M3_BOR_R)
        with Locations((-42.5, -20)):
            Circle(V7_PRESERVE_ALL_TEN_EXISTING_BEAM_M3_BOR_R)
        with Locations((-42.5, -10)):
            Circle(V7_PRESERVE_ALL_TEN_EXISTING_BEAM_M3_BOR_R)
        with Locations((42.5, -70)):
            Circle(V7_PRESERVE_ALL_TEN_EXISTING_BEAM_M3_BOR_R)
        with Locations((42.5, -20)):
            Circle(V7_PRESERVE_ALL_TEN_EXISTING_BEAM_M3_BOR_R)
        with Locations((42.5, -10)):
            Circle(V7_PRESERVE_ALL_TEN_EXISTING_BEAM_M3_BOR_R)
    extrude(amount=-V7_RESTORE_CHASSIS_AND_PCB_CLEARANCE_BOR_DEPTH, mode=Mode.SUBTRACT)

    # V7 refill old mounting slots within unchanged plate → V7 close previous slot positions (add)
    with BuildSketch(Plane.XZ.offset(28.5)):
        with Locations((0, 17.5)):
            Rectangle(V7_REFILL_OLD_MOUNTING_SLOTS_WITHIN_UNCH_W, V7_REFILL_OLD_MOUNTING_SLOTS_WITHIN_UNCH_H)
    extrude(amount=-V7_CLOSE_PREVIOUS_SLOT_POSITIONS_DEPTH)

    # V7 slot centers z15 - 10 mm below beam underside z25 → V7 four horizontal slots 3.4 x 5.4 mm at 10 mm (cut)
    with BuildSketch(Plane.XZ.offset(28.5)):
        with BuildLine():
            Line((-48.5, 16.7), (-46.5, 16.7))
            ThreePointArc((-46.5, 16.7), (-44.8, 15), (-46.5, 13.3))
            Line((-46.5, 13.3), (-48.5, 13.3))
            ThreePointArc((-48.5, 13.3), (-50.2, 15), (-48.5, 16.7))
        make_face()
        with BuildLine():
            Line((-21, 16.7), (-19, 16.7))
            ThreePointArc((-19, 16.7), (-17.3, 15), (-19, 13.3))
            Line((-19, 13.3), (-21, 13.3))
            ThreePointArc((-21, 13.3), (-22.7, 15), (-21, 16.7))
        make_face()
        with BuildLine():
            Line((19, 16.7), (21, 16.7))
            ThreePointArc((21, 16.7), (22.7, 15), (21, 13.3))
            Line((21, 13.3), (19, 13.3))
            ThreePointArc((19, 13.3), (17.3, 15), (19, 16.7))
        make_face()
        with BuildLine():
            Line((46.5, 16.7), (48.5, 16.7))
            ThreePointArc((48.5, 16.7), (50.2, 15), (48.5, 13.3))
            Line((48.5, 13.3), (46.5, 13.3))
            ThreePointArc((46.5, 13.3), (44.8, 15), (46.5, 16.7))
        make_face()
    extrude(amount=-V7_FOUR_HORIZONTAL_SLOTS_3_4_X_5_4_MM_AT_DEPTH, mode=Mode.SUBTRACT)

    # V8 refill old chassis bore row y-55 before shortening → V8 close chassis holes that would break beam ends (add)
    with BuildSketch(Plane.XY.offset(35)):
        with Locations((-47.5, -55)):
            Rectangle(V8_REFILL_OLD_CHASSIS_BORE_ROW_Y_55_BEFO_W, V8_REFILL_OLD_CHASSIS_BORE_ROW_Y_55_BEFO_H)
        with Locations((47.5, -55)):
            Rectangle(V8_REFILL_OLD_CHASSIS_BORE_ROW_Y_55_BEFO_W, V8_REFILL_OLD_CHASSIS_BORE_ROW_Y_55_BEFO_H)
    extrude(amount=-V8_CLOSE_CHASSIS_HOLES_THAT_WOULD_BREAK_DEPTH)

    # V8 shorten both free ends by 24 mm → V8 solid beams length 56 mm preserve plate position (cut)
    with BuildSketch(Plane.XZ.offset(80)):
        with Locations((0, 30)):
            Rectangle(V8_SHORTEN_BOTH_FREE_ENDS_BY_24_MM_W, V8_SHORTEN_BOTH_FREE_ENDS_BY_24_MM_H)
    extrude(amount=-V8_SOLID_BEAMS_LENGTH_56_MM_PRESERVE_PLA_DEPTH, mode=Mode.SUBTRACT)

    # V8 chassis pair y-50 with 6 mm end distance → V8 chassis M3 holes moved 5 mm toward battery box (cut)
    with BuildSketch(Plane.XY.offset(35)):
        with Locations((-47.5, -50)):
            Circle(V8_CHASSIS_PAIR_Y_50_WITH_6_MM_END_DISTA_R)
        with Locations((47.5, -50)):
            Circle(V8_CHASSIS_PAIR_Y_50_WITH_6_MM_END_DISTA_R)
    extrude(amount=-V8_CHASSIS_M3_HOLES_MOVED_5_MM_TOWARD_BA_DEPTH, mode=Mode.SUBTRACT)


solid = part.part
